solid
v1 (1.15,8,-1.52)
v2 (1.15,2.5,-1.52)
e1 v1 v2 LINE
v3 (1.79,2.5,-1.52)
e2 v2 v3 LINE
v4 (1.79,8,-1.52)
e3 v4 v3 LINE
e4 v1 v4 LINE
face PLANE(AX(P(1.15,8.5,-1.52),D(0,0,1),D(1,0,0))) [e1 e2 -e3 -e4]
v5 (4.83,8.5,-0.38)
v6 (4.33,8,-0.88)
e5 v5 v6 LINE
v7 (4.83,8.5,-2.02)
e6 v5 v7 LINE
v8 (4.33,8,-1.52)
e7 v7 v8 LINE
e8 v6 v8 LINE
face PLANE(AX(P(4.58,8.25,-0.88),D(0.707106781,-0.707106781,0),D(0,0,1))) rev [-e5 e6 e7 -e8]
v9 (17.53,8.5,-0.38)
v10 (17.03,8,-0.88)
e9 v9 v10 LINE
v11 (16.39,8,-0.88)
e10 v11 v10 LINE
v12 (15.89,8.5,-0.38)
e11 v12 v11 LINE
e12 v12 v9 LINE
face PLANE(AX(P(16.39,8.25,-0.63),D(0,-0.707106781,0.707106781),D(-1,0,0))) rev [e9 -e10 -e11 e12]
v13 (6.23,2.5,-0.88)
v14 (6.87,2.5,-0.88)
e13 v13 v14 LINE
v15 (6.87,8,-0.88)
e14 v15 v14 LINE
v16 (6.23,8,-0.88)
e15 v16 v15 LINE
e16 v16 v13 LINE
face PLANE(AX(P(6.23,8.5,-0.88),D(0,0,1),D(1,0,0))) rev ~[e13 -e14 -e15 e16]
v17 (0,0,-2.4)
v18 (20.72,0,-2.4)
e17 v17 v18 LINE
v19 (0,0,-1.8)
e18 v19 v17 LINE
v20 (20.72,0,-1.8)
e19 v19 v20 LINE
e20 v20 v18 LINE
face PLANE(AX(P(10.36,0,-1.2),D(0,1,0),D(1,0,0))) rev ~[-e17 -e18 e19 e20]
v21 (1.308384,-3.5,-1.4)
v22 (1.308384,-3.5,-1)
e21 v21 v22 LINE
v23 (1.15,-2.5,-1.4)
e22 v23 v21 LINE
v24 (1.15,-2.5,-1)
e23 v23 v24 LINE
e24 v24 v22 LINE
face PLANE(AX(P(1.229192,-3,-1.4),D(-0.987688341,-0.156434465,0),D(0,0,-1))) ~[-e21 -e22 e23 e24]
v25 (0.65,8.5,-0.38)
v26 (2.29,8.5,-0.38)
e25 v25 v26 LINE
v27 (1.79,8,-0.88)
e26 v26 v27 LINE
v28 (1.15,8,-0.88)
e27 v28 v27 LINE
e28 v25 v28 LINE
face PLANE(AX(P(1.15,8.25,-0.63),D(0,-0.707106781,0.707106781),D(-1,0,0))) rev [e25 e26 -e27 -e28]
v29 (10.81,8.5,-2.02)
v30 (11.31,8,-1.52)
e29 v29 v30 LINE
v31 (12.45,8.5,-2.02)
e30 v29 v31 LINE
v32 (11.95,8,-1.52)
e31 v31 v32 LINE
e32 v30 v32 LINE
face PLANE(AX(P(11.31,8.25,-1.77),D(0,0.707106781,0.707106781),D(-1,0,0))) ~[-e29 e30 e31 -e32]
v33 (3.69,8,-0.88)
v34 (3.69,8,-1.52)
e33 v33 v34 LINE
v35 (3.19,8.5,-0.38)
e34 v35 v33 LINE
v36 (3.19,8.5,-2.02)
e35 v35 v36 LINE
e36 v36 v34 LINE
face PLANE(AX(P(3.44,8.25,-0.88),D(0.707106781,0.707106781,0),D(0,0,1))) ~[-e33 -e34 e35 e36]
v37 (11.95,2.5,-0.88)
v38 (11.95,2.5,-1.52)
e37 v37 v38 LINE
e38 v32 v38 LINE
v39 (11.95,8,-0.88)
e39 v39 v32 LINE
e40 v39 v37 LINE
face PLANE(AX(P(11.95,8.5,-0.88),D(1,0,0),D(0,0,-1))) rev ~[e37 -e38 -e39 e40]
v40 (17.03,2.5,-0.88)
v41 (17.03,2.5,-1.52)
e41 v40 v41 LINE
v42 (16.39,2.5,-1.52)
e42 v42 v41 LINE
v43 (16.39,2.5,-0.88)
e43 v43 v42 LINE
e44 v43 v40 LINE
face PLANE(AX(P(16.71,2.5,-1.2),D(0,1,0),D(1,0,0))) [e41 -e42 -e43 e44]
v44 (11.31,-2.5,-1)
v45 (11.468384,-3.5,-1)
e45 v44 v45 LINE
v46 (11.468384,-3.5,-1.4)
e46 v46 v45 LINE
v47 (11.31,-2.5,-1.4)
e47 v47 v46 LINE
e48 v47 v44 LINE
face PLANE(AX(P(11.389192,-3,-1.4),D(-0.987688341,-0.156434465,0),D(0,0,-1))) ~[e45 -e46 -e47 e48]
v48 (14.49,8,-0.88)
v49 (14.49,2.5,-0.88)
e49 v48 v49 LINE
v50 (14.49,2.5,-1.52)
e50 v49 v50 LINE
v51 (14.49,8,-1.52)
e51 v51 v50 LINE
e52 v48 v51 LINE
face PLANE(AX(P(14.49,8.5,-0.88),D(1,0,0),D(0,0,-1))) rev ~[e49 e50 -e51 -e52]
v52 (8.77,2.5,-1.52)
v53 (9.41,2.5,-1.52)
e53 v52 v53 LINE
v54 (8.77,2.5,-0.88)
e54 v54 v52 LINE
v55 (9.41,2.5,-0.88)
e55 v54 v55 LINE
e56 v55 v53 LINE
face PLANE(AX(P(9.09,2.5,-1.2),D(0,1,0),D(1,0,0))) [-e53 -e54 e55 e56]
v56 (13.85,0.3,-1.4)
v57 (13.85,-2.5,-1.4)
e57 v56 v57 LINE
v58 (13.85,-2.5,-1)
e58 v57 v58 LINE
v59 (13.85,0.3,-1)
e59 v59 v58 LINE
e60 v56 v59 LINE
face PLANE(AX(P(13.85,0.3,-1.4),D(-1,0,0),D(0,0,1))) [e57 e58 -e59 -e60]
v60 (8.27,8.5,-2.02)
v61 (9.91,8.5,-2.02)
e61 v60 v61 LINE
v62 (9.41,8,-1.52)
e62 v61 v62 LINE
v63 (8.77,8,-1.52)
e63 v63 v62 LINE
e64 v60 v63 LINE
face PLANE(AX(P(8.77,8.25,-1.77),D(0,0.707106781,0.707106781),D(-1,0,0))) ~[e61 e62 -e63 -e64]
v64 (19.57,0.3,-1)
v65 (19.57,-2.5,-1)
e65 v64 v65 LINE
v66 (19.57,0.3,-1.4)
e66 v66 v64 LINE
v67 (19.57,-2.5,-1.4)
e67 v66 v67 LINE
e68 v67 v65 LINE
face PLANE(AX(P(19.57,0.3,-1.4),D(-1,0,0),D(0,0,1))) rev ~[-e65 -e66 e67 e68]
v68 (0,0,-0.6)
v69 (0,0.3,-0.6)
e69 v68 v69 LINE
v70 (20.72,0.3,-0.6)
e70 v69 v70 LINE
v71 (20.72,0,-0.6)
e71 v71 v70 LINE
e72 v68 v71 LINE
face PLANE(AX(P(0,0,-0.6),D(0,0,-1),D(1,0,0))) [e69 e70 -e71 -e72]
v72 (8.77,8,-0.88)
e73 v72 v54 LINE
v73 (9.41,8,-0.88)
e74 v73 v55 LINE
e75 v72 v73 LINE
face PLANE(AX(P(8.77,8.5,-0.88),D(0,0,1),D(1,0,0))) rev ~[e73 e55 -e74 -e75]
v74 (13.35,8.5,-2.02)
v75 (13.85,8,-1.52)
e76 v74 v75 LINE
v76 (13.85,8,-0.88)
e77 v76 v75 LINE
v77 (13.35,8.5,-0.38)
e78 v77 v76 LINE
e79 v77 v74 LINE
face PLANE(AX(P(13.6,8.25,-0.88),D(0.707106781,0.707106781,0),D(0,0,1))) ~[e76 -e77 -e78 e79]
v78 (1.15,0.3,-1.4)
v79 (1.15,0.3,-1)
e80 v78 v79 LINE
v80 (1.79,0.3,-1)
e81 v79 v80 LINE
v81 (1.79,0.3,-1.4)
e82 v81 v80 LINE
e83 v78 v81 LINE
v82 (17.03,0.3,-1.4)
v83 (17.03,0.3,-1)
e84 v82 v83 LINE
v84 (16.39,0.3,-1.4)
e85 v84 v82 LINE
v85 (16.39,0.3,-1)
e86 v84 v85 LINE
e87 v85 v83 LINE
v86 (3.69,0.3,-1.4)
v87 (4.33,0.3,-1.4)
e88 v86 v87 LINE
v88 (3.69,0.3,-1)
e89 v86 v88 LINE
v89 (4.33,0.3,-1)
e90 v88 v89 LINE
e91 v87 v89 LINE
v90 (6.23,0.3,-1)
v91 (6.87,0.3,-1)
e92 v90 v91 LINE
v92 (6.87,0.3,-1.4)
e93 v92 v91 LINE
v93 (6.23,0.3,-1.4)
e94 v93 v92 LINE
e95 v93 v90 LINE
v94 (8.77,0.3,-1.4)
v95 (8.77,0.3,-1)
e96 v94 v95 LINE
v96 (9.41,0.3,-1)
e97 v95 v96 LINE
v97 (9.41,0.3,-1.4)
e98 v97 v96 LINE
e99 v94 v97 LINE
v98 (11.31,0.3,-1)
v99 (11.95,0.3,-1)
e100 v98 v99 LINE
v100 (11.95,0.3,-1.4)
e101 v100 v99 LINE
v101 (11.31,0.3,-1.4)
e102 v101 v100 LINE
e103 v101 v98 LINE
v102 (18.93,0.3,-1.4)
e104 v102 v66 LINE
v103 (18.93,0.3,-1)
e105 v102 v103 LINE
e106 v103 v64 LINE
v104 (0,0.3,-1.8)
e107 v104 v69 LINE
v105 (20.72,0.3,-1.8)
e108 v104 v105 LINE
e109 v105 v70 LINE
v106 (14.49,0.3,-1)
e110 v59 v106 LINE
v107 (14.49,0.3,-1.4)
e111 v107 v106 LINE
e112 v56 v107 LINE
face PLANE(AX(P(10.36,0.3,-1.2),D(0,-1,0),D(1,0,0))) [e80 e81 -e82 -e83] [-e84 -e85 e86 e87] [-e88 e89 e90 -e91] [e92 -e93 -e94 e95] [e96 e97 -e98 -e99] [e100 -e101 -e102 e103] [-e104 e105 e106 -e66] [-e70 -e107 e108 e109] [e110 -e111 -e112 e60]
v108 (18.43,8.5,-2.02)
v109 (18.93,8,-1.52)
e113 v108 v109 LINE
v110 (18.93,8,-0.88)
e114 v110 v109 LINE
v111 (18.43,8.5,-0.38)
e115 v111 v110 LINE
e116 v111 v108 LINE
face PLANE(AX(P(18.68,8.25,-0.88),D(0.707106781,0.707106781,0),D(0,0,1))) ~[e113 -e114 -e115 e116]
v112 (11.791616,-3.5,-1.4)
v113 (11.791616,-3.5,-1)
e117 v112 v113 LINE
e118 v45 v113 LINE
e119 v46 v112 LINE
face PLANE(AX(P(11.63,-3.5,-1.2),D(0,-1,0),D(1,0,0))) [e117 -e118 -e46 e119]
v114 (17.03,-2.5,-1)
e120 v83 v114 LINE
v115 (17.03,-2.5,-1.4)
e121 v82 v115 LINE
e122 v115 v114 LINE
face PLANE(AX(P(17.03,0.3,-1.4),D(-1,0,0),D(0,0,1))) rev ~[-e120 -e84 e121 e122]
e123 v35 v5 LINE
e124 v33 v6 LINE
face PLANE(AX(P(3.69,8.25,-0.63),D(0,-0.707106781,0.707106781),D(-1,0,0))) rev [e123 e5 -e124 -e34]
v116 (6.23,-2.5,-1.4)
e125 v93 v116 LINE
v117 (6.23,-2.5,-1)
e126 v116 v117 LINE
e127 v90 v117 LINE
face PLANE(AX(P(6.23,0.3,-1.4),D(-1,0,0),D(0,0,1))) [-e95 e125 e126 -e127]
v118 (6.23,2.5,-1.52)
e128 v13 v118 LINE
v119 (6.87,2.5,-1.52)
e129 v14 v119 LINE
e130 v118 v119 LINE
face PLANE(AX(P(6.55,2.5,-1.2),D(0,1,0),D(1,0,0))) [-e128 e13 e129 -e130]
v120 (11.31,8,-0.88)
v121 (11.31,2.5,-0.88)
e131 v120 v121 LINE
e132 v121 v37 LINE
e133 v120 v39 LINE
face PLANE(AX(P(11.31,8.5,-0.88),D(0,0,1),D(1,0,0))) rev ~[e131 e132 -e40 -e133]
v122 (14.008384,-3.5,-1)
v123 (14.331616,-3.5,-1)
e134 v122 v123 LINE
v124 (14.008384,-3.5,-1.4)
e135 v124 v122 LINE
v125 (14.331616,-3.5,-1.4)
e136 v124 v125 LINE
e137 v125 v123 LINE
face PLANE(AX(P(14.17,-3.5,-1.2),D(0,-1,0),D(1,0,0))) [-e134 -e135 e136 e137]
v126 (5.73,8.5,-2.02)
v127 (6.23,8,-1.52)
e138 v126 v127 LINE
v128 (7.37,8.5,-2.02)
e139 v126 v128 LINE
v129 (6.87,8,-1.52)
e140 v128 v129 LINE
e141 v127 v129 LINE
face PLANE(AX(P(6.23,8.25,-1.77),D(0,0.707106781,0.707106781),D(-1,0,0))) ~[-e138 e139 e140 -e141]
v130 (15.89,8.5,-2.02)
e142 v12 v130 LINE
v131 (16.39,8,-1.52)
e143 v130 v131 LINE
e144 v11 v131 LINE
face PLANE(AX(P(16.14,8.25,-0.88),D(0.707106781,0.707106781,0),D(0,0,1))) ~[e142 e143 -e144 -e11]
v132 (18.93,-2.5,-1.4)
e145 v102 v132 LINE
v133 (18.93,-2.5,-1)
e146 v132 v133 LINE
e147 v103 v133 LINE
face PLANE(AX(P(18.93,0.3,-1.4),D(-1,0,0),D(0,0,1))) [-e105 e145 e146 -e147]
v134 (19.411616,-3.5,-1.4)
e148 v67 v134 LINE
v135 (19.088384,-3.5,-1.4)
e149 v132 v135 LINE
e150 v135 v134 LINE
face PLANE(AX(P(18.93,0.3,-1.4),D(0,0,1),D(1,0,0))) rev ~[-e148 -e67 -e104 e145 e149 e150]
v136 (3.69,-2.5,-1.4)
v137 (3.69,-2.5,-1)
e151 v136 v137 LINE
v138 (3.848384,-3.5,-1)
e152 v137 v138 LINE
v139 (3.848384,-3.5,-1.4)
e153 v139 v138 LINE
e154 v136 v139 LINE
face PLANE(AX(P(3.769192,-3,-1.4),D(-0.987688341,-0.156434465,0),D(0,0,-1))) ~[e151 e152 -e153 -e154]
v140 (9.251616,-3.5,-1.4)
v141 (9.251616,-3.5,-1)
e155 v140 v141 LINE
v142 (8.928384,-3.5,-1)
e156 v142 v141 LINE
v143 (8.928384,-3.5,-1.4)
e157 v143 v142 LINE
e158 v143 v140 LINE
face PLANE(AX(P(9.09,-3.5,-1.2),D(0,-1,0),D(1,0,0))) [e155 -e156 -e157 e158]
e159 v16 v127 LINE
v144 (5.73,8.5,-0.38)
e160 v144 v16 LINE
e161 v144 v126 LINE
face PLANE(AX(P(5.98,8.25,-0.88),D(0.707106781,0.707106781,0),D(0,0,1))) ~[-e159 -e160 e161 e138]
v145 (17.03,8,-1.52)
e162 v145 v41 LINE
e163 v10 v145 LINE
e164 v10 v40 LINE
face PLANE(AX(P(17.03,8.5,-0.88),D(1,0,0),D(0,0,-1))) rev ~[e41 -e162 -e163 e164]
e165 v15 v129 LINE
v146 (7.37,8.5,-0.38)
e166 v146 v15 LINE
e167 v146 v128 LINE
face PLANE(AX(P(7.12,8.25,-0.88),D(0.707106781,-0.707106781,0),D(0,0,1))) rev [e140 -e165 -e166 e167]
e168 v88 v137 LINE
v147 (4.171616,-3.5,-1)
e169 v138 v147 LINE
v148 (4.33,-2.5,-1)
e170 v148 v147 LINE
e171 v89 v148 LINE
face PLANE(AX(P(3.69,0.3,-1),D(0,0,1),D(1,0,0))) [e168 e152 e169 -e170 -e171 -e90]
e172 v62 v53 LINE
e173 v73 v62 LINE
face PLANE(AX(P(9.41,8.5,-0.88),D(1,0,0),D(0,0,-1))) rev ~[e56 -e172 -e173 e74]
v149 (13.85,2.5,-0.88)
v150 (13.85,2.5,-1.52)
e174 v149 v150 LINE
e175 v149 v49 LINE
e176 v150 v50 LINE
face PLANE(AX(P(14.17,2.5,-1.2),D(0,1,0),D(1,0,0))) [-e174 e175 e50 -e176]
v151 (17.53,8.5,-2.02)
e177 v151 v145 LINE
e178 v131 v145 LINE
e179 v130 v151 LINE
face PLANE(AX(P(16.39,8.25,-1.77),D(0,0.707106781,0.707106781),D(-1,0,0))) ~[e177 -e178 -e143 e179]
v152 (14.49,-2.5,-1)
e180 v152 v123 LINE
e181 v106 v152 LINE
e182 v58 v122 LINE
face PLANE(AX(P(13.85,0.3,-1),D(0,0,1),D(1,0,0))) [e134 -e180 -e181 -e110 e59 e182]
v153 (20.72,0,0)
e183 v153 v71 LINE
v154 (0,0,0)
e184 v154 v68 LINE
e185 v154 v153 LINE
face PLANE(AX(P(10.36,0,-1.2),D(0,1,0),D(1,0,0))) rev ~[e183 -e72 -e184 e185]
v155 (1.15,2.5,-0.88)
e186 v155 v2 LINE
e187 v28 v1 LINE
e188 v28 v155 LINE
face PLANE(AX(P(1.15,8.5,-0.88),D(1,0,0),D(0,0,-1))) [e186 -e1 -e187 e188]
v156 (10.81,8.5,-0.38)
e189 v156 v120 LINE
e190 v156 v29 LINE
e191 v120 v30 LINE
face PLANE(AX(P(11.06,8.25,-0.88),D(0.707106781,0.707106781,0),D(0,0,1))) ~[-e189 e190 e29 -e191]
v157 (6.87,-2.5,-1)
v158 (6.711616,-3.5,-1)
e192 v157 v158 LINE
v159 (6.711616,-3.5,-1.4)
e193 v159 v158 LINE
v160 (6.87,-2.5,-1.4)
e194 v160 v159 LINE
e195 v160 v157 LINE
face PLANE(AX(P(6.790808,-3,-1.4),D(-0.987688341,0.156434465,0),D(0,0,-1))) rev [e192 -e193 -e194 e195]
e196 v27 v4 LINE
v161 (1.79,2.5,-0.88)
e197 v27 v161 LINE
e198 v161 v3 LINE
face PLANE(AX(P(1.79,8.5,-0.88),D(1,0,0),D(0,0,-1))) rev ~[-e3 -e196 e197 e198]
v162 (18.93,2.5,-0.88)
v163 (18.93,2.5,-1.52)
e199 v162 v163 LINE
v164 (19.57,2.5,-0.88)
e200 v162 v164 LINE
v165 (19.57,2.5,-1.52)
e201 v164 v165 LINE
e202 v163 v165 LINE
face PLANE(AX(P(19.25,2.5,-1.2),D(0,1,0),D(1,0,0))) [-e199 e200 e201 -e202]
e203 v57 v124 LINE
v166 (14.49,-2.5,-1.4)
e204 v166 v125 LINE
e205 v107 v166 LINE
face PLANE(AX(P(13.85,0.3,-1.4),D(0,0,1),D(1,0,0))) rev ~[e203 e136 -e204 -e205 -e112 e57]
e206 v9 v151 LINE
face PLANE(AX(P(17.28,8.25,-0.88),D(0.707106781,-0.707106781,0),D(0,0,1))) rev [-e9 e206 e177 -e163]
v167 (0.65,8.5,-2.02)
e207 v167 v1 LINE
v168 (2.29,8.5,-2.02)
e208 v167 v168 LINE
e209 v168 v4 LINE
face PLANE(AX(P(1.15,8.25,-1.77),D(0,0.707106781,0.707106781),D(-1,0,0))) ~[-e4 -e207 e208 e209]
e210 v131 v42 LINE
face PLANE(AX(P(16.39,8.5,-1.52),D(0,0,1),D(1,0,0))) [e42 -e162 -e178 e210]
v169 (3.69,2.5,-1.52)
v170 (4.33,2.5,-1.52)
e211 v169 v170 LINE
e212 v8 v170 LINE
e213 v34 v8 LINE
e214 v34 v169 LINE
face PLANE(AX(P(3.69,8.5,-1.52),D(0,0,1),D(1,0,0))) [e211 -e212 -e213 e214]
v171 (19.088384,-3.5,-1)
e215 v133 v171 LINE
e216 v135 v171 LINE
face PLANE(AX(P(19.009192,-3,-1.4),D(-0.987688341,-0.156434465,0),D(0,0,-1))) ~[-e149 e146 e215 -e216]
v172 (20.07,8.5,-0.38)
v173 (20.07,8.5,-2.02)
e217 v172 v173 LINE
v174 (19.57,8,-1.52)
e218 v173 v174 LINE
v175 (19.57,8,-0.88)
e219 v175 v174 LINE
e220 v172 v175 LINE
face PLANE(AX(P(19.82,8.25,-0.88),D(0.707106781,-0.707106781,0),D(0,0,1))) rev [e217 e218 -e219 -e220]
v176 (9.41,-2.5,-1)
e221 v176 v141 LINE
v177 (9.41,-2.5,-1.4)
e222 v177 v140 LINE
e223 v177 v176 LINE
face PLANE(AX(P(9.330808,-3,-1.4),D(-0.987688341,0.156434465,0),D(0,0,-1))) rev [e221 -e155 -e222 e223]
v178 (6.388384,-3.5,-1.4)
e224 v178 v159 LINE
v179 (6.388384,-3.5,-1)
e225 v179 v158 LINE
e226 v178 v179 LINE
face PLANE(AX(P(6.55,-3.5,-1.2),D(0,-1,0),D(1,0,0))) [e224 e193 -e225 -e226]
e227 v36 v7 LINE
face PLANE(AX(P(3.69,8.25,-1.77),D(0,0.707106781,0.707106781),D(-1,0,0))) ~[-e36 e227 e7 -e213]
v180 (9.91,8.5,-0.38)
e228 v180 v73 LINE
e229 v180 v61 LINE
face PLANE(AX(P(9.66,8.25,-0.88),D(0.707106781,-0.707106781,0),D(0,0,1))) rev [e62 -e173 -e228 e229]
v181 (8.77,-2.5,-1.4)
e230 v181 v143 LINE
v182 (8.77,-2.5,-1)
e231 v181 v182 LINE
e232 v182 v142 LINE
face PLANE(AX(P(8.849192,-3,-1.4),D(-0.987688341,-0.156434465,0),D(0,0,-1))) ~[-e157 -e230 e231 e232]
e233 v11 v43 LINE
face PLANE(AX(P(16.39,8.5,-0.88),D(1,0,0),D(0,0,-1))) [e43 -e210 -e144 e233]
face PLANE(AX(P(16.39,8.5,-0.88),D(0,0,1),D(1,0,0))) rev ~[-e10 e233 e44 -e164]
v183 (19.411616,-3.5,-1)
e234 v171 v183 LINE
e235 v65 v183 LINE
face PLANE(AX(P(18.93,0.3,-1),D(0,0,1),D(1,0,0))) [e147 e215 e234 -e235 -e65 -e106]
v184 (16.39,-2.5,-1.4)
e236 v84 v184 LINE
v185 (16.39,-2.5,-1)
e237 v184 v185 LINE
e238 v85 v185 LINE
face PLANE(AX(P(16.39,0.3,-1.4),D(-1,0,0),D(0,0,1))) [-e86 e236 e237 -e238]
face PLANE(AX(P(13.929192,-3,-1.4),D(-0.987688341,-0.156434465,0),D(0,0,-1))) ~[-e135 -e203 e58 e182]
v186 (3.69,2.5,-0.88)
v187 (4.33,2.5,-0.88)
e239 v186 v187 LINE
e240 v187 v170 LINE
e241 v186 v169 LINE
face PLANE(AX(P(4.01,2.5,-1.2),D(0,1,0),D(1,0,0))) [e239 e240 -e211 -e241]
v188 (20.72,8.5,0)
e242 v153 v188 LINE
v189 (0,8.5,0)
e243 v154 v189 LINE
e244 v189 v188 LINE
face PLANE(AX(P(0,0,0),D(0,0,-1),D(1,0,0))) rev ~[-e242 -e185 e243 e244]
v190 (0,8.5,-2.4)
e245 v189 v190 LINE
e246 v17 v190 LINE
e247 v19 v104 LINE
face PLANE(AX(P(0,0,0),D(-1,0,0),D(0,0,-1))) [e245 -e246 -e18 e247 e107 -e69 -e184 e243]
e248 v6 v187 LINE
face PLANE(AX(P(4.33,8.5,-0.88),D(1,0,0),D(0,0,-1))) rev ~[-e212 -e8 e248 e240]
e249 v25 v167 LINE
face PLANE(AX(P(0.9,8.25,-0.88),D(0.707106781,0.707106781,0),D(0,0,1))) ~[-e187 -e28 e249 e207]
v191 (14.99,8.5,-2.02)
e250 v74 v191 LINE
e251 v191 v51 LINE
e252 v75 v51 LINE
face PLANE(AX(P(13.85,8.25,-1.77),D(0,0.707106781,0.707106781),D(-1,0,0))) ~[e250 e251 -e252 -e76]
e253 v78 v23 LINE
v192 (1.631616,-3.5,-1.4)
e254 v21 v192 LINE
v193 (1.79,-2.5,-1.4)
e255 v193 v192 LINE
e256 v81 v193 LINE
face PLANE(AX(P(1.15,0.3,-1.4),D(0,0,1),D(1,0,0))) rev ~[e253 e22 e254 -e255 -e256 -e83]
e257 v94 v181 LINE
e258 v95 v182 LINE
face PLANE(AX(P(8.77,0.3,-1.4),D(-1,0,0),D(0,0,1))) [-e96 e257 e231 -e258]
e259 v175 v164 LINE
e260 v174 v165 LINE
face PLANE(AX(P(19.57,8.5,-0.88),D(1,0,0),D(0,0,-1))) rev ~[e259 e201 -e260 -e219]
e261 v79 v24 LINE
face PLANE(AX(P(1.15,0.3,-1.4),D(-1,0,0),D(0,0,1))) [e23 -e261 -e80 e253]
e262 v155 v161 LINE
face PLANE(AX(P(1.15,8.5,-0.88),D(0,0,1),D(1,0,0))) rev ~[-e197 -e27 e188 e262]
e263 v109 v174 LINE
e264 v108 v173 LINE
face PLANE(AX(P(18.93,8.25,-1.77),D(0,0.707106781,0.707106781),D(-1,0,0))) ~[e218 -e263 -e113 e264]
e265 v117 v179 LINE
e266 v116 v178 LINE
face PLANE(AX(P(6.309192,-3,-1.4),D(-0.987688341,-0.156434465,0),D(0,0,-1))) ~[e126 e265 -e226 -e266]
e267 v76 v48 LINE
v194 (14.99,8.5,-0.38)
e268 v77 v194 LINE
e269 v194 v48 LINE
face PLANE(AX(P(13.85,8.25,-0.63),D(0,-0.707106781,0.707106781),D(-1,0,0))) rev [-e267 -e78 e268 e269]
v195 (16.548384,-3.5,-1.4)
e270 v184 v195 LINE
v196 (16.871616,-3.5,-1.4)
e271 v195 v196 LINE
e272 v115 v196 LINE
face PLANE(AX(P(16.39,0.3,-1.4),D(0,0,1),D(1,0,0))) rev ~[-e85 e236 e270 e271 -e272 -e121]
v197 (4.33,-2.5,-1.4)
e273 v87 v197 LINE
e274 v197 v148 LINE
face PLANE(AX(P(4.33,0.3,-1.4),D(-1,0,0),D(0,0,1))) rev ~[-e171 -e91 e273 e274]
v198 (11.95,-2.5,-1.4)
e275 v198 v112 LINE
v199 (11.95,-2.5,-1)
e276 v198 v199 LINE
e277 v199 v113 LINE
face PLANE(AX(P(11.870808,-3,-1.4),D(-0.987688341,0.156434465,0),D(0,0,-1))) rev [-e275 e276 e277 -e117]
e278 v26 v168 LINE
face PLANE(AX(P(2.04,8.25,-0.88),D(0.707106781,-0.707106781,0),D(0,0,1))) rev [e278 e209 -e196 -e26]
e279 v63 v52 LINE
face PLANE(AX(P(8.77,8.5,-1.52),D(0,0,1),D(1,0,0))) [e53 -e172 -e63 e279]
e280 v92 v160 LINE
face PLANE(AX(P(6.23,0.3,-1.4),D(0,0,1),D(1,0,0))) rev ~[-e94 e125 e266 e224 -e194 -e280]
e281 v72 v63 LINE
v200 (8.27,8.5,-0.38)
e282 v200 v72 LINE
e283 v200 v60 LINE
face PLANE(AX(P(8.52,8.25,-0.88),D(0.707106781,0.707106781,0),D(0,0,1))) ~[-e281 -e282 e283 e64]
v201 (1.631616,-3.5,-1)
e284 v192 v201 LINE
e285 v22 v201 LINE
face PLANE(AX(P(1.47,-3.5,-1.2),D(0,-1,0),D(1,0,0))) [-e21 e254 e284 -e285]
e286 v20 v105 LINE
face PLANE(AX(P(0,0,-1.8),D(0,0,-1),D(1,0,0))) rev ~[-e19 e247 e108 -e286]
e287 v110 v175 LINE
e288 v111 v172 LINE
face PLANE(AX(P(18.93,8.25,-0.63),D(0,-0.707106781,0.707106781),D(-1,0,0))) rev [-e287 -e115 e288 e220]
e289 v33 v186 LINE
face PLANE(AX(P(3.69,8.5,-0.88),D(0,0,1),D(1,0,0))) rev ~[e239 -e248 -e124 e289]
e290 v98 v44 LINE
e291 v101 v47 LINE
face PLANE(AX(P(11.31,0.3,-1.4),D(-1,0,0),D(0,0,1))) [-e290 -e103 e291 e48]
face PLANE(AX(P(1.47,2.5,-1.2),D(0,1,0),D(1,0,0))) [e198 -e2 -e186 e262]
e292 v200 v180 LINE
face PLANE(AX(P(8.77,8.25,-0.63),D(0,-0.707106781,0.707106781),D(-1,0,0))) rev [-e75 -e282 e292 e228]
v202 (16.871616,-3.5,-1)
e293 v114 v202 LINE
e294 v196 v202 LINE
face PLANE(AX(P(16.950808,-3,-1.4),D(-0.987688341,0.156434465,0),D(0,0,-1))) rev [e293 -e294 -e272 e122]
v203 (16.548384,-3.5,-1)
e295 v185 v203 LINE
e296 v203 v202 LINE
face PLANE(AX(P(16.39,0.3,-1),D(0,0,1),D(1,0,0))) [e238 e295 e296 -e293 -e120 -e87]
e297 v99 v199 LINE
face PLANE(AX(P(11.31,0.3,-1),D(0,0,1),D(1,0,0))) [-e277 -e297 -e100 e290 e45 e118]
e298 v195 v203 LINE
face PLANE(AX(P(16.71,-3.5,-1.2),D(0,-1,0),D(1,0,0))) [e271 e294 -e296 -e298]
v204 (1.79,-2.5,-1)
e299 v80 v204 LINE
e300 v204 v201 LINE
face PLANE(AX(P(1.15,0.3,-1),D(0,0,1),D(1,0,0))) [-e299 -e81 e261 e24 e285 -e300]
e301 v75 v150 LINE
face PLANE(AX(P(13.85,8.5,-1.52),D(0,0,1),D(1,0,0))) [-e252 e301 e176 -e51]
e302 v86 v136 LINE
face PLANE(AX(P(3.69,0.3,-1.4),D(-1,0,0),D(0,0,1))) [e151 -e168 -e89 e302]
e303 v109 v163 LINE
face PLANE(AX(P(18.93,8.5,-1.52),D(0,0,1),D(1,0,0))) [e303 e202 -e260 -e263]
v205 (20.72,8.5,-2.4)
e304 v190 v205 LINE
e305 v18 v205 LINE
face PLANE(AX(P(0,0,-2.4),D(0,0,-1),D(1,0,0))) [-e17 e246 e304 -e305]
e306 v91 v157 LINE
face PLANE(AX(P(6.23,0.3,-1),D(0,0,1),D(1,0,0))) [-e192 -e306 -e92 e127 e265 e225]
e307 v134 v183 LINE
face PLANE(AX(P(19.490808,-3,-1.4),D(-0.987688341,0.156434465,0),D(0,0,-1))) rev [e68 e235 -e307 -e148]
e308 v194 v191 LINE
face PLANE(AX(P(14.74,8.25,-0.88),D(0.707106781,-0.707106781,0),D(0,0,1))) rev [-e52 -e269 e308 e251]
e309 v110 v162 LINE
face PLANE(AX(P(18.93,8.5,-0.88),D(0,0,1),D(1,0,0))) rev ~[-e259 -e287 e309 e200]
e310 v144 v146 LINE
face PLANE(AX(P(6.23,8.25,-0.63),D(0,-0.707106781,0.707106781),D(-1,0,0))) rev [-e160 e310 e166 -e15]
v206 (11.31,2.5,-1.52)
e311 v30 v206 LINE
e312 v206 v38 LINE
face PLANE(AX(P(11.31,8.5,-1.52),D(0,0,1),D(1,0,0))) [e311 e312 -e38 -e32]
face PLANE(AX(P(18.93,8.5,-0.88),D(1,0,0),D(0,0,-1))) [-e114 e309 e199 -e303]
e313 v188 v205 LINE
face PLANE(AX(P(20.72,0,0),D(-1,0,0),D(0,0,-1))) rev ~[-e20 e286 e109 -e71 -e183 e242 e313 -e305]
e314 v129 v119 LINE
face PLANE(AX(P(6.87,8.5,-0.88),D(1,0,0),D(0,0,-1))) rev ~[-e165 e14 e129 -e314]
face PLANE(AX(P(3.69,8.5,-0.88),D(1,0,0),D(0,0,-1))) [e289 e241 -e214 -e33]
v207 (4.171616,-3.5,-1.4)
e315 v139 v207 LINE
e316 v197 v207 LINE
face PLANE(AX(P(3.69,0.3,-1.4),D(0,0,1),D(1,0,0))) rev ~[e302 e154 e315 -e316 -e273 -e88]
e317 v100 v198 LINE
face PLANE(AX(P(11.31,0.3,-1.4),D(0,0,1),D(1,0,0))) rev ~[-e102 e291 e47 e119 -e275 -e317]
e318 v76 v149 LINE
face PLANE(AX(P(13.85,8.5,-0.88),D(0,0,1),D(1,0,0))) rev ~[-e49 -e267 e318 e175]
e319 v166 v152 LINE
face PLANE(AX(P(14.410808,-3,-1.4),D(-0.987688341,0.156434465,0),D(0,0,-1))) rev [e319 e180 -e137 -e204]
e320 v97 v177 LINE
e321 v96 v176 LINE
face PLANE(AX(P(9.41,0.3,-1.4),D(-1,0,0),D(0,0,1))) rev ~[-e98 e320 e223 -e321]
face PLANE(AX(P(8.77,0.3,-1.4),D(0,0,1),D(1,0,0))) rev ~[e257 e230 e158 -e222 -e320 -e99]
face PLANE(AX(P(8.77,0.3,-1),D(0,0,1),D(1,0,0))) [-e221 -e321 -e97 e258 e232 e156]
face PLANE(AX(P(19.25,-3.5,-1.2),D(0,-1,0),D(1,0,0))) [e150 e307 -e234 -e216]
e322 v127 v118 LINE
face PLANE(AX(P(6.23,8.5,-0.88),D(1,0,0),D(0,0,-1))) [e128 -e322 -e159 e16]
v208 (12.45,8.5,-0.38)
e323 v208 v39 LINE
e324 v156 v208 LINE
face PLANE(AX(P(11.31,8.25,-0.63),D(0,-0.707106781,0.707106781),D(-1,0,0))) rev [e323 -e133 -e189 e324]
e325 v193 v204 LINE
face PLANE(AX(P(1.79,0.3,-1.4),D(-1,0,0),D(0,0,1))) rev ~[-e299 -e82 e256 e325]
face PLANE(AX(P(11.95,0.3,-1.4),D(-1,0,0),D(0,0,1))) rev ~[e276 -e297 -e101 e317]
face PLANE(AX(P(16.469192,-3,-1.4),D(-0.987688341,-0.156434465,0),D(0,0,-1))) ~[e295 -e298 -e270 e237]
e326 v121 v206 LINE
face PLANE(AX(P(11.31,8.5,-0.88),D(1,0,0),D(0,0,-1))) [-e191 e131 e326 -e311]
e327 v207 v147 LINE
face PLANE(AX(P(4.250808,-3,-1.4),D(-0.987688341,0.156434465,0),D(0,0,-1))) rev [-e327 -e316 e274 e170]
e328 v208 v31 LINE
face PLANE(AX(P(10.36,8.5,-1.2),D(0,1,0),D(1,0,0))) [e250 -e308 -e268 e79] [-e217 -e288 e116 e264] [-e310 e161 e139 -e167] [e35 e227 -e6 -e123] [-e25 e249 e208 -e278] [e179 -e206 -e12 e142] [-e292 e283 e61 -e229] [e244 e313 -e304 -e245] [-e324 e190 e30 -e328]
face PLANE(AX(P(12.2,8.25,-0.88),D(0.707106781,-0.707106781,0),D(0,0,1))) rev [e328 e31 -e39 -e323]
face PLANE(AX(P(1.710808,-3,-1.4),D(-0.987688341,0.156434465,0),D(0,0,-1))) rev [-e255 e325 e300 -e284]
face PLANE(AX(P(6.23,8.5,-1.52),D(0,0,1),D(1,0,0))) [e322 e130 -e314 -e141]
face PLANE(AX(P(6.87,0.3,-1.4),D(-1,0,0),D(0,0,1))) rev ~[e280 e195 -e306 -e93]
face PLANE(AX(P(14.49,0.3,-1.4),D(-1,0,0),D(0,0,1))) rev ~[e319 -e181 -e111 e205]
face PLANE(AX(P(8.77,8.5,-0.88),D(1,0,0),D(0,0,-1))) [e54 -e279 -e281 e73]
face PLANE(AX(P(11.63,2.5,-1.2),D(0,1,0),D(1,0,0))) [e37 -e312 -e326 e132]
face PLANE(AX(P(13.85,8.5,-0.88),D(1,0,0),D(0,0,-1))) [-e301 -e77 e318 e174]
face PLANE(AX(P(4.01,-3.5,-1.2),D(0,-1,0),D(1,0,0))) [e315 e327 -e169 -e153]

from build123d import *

# Parameters (mm, degrees)
SKETCH1_W              = 20.72
SKETCH1_H              = 2.4
BOSS_EXTRUDE1_DEPTH    = 8.5
SKETCH3_W              = 20.72
SKETCH3_H              = 1.2
CUT_EXTRUDE1_DEPTH     = 0.3
SKETCH4_W              = 0.64
SKETCH4_H              = 0.64
CUT_EXTRUDE2_DEPTH     = 6
CHAMFER2_SIZE          = 0.5
SKETCH5_W              = 0.64
SKETCH5_H              = 0.4
BOSS_EXTRUDE2_DEPTH    = 3.8
CHAMFER3_SIZE          = 1
CHAMFER3_SIZE2         = 0.15838444
CHAMFER3_PART_2_SIZE   = 1
CHAMFER3_PART_2_SIZE2  = 0.15838444
CHAMFER3_PART_3_SIZE   = 1
CHAMFER3_PART_3_SIZE2  = 0.15838444
CHAMFER3_PART_4_SIZE   = 1
CHAMFER3_PART_4_SIZE2  = 0.15838444
CHAMFER3_PART_5_SIZE   = 1
CHAMFER3_PART_5_SIZE2  = 0.15838444
CHAMFER3_PART_6_SIZE   = 1
CHAMFER3_PART_6_SIZE2  = 0.15838444
CHAMFER3_PART_7_SIZE   = 1
CHAMFER3_PART_7_SIZE2  = 0.15838444
CHAMFER3_PART_8_SIZE   = 1
CHAMFER3_PART_8_SIZE2  = 0.15838444
CHAMFER3_PART_9_SIZE   = 1
CHAMFER3_PART_9_SIZE2  = 0.15838444
CHAMFER3_PART_10_SIZE  = 1
CHAMFER3_PART_10_SIZE2 = 0.15838444
CHAMFER3_PART_11_SIZE  = 1
CHAMFER3_PART_11_SIZE2 = 0.15838444
CHAMFER3_PART_12_SIZE  = 1
CHAMFER3_PART_12_SIZE2 = 0.15838444
CHAMFER3_PART_13_SIZE  = 1
CHAMFER3_PART_13_SIZE2 = 0.15838444
CHAMFER3_PART_14_SIZE  = 1
CHAMFER3_PART_14_SIZE2 = 0.15838444
CHAMFER3_PART_15_SIZE  = 1
CHAMFER3_PART_15_SIZE2 = 0.15838444
CHAMFER3_PART_16_SIZE  = 1
CHAMFER3_PART_16_SIZE2 = 0.15838444


with BuildPart() as part:
    # Sketch1 → Boss-Extrude1 (new body)
    with BuildSketch(Plane(origin=(0, 0, 0), x_dir=(1, 0, 0), z_dir=(0, 1, 0))):
        with Locations((10.36, 1.2)):
            Rectangle(SKETCH1_W, SKETCH1_H)
    extrude(amount=BOSS_EXTRUDE1_DEPTH)

    # Sketch3 → Cut-Extrude1 (cut)
    with BuildSketch(Plane.XZ):
        with Locations((10.36, -1.2)):
            Rectangle(SKETCH3_W, SKETCH3_H)
    extrude(amount=-CUT_EXTRUDE1_DEPTH, mode=Mode.SUBTRACT)

    # Sketch4 → Cut-Extrude2 (cut)
    with BuildSketch(Plane(origin=(0, 8.5, 0), x_dir=(1, 0, 0), z_dir=(0, 1, 0))):
        with Locations((4.01, 1.2)):
            Rectangle(SKETCH4_W, SKETCH4_H)
        with Locations((1.47, 1.2)):
            Rectangle(SKETCH4_W, SKETCH4_H)
        with Locations((6.55, 1.2)):
            Rectangle(SKETCH4_W, SKETCH4_H)
        with Locations((9.09, 1.2)):
            Rectangle(SKETCH4_W, SKETCH4_H)
        with Locations((11.63, 1.2)):
            Rectangle(SKETCH4_W, SKETCH4_H)
        with Locations((14.17, 1.2)):
            Rectangle(SKETCH4_W, SKETCH4_H)
        with Locations((16.71, 1.2)):
            Rectangle(SKETCH4_W, SKETCH4_H)
        with Locations((19.25, 1.2)):
            Rectangle(SKETCH4_W, SKETCH4_H)
    extrude(amount=-CUT_EXTRUDE2_DEPTH, mode=Mode.SUBTRACT)

    # Chamfer2
    chamfer2_edges = [part.edges().sort_by_distance(p)[0] for p in [
        (1.79, 8.5, -1.2),
        (1.47, 8.5, -1.52),
        (1.15, 8.5, -1.2),
        (1.47, 8.5, -0.88),
        (4.01, 8.5, -1.52),
        (3.69, 8.5, -1.2),
        (4.01, 8.5, -0.88),
        (4.33, 8.5, -1.2),
        (6.55, 8.5, -1.52),
        (6.23, 8.5, -1.2),
        (6.55, 8.5, -0.88),
        (6.87, 8.5, -1.2),
        (9.09, 8.5, -1.52),
        (8.77, 8.5, -1.2),
        (9.09, 8.5, -0.88),
        (9.41, 8.5, -1.2),
        (11.63, 8.5, -1.52),
        (11.31, 8.5, -1.2),
        (11.63, 8.5, -0.88),
        (11.95, 8.5, -1.2),
        (14.17, 8.5, -1.52),
        (13.85, 8.5, -1.2),
        (14.17, 8.5, -0.88),
        (14.49, 8.5, -1.2),
        (16.71, 8.5, -1.52),
        (16.39, 8.5, -1.2),
        (16.71, 8.5, -0.88),
        (17.03, 8.5, -1.2),
        (19.25, 8.5, -1.52),
        (18.93, 8.5, -1.2),
        (19.25, 8.5, -0.88),
        (19.57, 8.5, -1.2),
    ]]
    chamfer(chamfer2_edges, length=CHAMFER2_SIZE)

    # Sketch5 → Boss-Extrude2 (add)
    with BuildSketch(Plane.XZ.offset(-0.3)):
        with Locations((4.01, -1.2)):
            Rectangle(SKETCH5_W, SKETCH5_H)
        with Locations((1.47, -1.2)):
            Rectangle(SKETCH5_W, SKETCH5_H)
        with Locations((6.55, -1.2)):
            Rectangle(SKETCH5_W, SKETCH5_H)
        with Locations((9.09, -1.2)):
            Rectangle(SKETCH5_W, SKETCH5_H)
        with Locations((11.63, -1.2)):
            Rectangle(SKETCH5_W, SKETCH5_H)
        with Locations((14.17, -1.2)):
            Rectangle(SKETCH5_W, SKETCH5_H)
        with Locations((16.71, -1.2)):
            Rectangle(SKETCH5_W, SKETCH5_H)
        with Locations((19.25, -1.2)):
            Rectangle(SKETCH5_W, SKETCH5_H)
    extrude(amount=BOSS_EXTRUDE2_DEPTH)

    # Chamfer3
    chamfer3_edges = [part.edges().sort_by_distance(p)[0] for p in [
        (1.79, -3.5, -1.2),
    ]]
    chamfer3_side = [part.faces().sort_by_distance(p)[0] for p in [
        (1.79, -1.6, -1.2),
    ]]
    chamfer(chamfer3_edges, length=CHAMFER3_SIZE, length2=CHAMFER3_SIZE2, reference=chamfer3_side[0])

    # Chamfer3 part 2
    chamfer3_part_2_edges = [part.edges().sort_by_distance(p)[0] for p in [
        (1.15, -3.5, -1.2),
    ]]
    chamfer3_part_2_side = [part.faces().sort_by_distance(p)[0] for p in [
        (1.15, -1.6, -1.2),
    ]]
    chamfer(chamfer3_part_2_edges, length=CHAMFER3_PART_2_SIZE, length2=CHAMFER3_PART_2_SIZE2, reference=chamfer3_part_2_side[0])

    # Chamfer3 part 3
    chamfer3_part_3_edges = [part.edges().sort_by_distance(p)[0] for p in [
        (3.69, -3.5, -1.2),
    ]]
    chamfer3_part_3_side = [part.faces().sort_by_distance(p)[0] for p in [
        (3.69, -1.6, -1.2),
    ]]
    chamfer(chamfer3_part_3_edges, length=CHAMFER3_PART_3_SIZE, length2=CHAMFER3_PART_3_SIZE2, reference=chamfer3_part_3_side[0])

    # Chamfer3 part 4
    chamfer3_part_4_edges = [part.edges().sort_by_distance(p)[0] for p in [
        (4.33, -3.5, -1.2),
    ]]
    chamfer3_part_4_side = [part.faces().sort_by_distance(p)[0] for p in [
        (4.33, -1.6, -1.2),
    ]]
    chamfer(chamfer3_part_4_edges, length=CHAMFER3_PART_4_SIZE, length2=CHAMFER3_PART_4_SIZE2, reference=chamfer3_part_4_side[0])

    # Chamfer3 part 5
    chamfer3_part_5_edges = [part.edges().sort_by_distance(p)[0] for p in [
        (6.23, -3.5, -1.2),
    ]]
    chamfer3_part_5_side = [part.faces().sort_by_distance(p)[0] for p in [
        (6.23, -1.6, -1.2),
    ]]
    chamfer(chamfer3_part_5_edges, length=CHAMFER3_PART_5_SIZE, length2=CHAMFER3_PART_5_SIZE2, reference=chamfer3_part_5_side[0])

    # Chamfer3 part 6
    chamfer3_part_6_edges = [part.edges().sort_by_distance(p)[0] for p in [
        (6.87, -3.5, -1.2),
    ]]
    chamfer3_part_6_side = [part.faces().sort_by_distance(p)[0] for p in [
        (6.87, -1.6, -1.2),
    ]]
    chamfer(chamfer3_part_6_edges, length=CHAMFER3_PART_6_SIZE, length2=CHAMFER3_PART_6_SIZE2, reference=chamfer3_part_6_side[0])

    # Chamfer3 part 7
    chamfer3_part_7_edges = [part.edges().sort_by_distance(p)[0] for p in [
        (8.77, -3.5, -1.2),
    ]]
    chamfer3_part_7_side = [part.faces().sort_by_distance(p)[0] for p in [
        (8.77, -1.6, -1.2),
    ]]
    chamfer(chamfer3_part_7_edges, length=CHAMFER3_PART_7_SIZE, length2=CHAMFER3_PART_7_SIZE2, reference=chamfer3_part_7_side[0])

    # Chamfer3 part 8
    chamfer3_part_8_edges = [part.edges().sort_by_distance(p)[0] for p in [
        (9.41, -3.5, -1.2),
    ]]
    chamfer3_part_8_side = [part.faces().sort_by_distance(p)[0] for p in [
        (9.41, -1.6, -1.2),
    ]]
    chamfer(chamfer3_part_8_edges, length=CHAMFER3_PART_8_SIZE, length2=CHAMFER3_PART_8_SIZE2, reference=chamfer3_part_8_side[0])

    # Chamfer3 part 9
    chamfer3_part_9_edges = [part.edges().sort_by_distance(p)[0] for p in [
        (11.31, -3.5, -1.2),
    ]]
    chamfer3_part_9_side = [part.faces().sort_by_distance(p)[0] for p in [
        (11.31, -1.6, -1.2),
    ]]
    chamfer(chamfer3_part_9_edges, length=CHAMFER3_PART_9_SIZE, length2=CHAMFER3_PART_9_SIZE2, reference=chamfer3_part_9_side[0])

    # Chamfer3 part 10
    chamfer3_part_10_edges = [part.edges().sort_by_distance(p)[0] for p in [
        (11.95, -3.5, -1.2),
    ]]
    chamfer3_part_10_side = [part.faces().sort_by_distance(p)[0] for p in [
        (11.95, -1.6, -1.2),
    ]]
    chamfer(chamfer3_part_10_edges, length=CHAMFER3_PART_10_SIZE, length2=CHAMFER3_PART_10_SIZE2, reference=chamfer3_part_10_side[0])

    # Chamfer3 part 11
    chamfer3_part_11_edges = [part.edges().sort_by_distance(p)[0] for p in [
        (13.85, -3.5, -1.2),
    ]]
    chamfer3_part_11_side = [part.faces().sort_by_distance(p)[0] for p in [
        (13.85, -1.6, -1.2),
    ]]
    chamfer(chamfer3_part_11_edges, length=CHAMFER3_PART_11_SIZE, length2=CHAMFER3_PART_11_SIZE2, reference=chamfer3_part_11_side[0])

    # Chamfer3 part 12
    chamfer3_part_12_edges = [part.edges().sort_by_distance(p)[0] for p in [
        (14.49, -3.5, -1.2),
    ]]
    chamfer3_part_12_side = [part.faces().sort_by_distance(p)[0] for p in [
        (14.49, -1.6, -1.2),
    ]]
    chamfer(chamfer3_part_12_edges, length=CHAMFER3_PART_12_SIZE, length2=CHAMFER3_PART_12_SIZE2, reference=chamfer3_part_12_side[0])

    # Chamfer3 part 13
    chamfer3_part_13_edges = [part.edges().sort_by_distance(p)[0] for p in [
        (16.39, -3.5, -1.2),
    ]]
    chamfer3_part_13_side = [part.faces().sort_by_distance(p)[0] for p in [
        (16.39, -1.6, -1.2),
    ]]
    chamfer(chamfer3_part_13_edges, length=CHAMFER3_PART_13_SIZE, length2=CHAMFER3_PART_13_SIZE2, reference=chamfer3_part_13_side[0])

    # Chamfer3 part 14
    chamfer3_part_14_edges = [part.edges().sort_by_distance(p)[0] for p in [
        (17.03, -3.5, -1.2),
    ]]
    chamfer3_part_14_side = [part.faces().sort_by_distance(p)[0] for p in [
        (17.03, -1.6, -1.2),
    ]]
    chamfer(chamfer3_part_14_edges, length=CHAMFER3_PART_14_SIZE, length2=CHAMFER3_PART_14_SIZE2, reference=chamfer3_part_14_side[0])

    # Chamfer3 part 15
    chamfer3_part_15_edges = [part.edges().sort_by_distance(p)[0] for p in [
        (18.93, -3.5, -1.2),
    ]]
    chamfer3_part_15_side = [part.faces().sort_by_distance(p)[0] for p in [
        (18.93, -1.6, -1.2),
    ]]
    chamfer(chamfer3_part_15_edges, length=CHAMFER3_PART_15_SIZE, length2=CHAMFER3_PART_15_SIZE2, reference=chamfer3_part_15_side[0])

    # Chamfer3 part 16
    chamfer3_part_16_edges = [part.edges().sort_by_distance(p)[0] for p in [
        (19.57, -3.5, -1.2),
    ]]
    chamfer3_part_16_side = [part.faces().sort_by_distance(p)[0] for p in [
        (19.57, -1.6, -1.2),
    ]]
    chamfer(chamfer3_part_16_edges, length=CHAMFER3_PART_16_SIZE, length2=CHAMFER3_PART_16_SIZE2, reference=chamfer3_part_16_side[0])


solid = part.part
